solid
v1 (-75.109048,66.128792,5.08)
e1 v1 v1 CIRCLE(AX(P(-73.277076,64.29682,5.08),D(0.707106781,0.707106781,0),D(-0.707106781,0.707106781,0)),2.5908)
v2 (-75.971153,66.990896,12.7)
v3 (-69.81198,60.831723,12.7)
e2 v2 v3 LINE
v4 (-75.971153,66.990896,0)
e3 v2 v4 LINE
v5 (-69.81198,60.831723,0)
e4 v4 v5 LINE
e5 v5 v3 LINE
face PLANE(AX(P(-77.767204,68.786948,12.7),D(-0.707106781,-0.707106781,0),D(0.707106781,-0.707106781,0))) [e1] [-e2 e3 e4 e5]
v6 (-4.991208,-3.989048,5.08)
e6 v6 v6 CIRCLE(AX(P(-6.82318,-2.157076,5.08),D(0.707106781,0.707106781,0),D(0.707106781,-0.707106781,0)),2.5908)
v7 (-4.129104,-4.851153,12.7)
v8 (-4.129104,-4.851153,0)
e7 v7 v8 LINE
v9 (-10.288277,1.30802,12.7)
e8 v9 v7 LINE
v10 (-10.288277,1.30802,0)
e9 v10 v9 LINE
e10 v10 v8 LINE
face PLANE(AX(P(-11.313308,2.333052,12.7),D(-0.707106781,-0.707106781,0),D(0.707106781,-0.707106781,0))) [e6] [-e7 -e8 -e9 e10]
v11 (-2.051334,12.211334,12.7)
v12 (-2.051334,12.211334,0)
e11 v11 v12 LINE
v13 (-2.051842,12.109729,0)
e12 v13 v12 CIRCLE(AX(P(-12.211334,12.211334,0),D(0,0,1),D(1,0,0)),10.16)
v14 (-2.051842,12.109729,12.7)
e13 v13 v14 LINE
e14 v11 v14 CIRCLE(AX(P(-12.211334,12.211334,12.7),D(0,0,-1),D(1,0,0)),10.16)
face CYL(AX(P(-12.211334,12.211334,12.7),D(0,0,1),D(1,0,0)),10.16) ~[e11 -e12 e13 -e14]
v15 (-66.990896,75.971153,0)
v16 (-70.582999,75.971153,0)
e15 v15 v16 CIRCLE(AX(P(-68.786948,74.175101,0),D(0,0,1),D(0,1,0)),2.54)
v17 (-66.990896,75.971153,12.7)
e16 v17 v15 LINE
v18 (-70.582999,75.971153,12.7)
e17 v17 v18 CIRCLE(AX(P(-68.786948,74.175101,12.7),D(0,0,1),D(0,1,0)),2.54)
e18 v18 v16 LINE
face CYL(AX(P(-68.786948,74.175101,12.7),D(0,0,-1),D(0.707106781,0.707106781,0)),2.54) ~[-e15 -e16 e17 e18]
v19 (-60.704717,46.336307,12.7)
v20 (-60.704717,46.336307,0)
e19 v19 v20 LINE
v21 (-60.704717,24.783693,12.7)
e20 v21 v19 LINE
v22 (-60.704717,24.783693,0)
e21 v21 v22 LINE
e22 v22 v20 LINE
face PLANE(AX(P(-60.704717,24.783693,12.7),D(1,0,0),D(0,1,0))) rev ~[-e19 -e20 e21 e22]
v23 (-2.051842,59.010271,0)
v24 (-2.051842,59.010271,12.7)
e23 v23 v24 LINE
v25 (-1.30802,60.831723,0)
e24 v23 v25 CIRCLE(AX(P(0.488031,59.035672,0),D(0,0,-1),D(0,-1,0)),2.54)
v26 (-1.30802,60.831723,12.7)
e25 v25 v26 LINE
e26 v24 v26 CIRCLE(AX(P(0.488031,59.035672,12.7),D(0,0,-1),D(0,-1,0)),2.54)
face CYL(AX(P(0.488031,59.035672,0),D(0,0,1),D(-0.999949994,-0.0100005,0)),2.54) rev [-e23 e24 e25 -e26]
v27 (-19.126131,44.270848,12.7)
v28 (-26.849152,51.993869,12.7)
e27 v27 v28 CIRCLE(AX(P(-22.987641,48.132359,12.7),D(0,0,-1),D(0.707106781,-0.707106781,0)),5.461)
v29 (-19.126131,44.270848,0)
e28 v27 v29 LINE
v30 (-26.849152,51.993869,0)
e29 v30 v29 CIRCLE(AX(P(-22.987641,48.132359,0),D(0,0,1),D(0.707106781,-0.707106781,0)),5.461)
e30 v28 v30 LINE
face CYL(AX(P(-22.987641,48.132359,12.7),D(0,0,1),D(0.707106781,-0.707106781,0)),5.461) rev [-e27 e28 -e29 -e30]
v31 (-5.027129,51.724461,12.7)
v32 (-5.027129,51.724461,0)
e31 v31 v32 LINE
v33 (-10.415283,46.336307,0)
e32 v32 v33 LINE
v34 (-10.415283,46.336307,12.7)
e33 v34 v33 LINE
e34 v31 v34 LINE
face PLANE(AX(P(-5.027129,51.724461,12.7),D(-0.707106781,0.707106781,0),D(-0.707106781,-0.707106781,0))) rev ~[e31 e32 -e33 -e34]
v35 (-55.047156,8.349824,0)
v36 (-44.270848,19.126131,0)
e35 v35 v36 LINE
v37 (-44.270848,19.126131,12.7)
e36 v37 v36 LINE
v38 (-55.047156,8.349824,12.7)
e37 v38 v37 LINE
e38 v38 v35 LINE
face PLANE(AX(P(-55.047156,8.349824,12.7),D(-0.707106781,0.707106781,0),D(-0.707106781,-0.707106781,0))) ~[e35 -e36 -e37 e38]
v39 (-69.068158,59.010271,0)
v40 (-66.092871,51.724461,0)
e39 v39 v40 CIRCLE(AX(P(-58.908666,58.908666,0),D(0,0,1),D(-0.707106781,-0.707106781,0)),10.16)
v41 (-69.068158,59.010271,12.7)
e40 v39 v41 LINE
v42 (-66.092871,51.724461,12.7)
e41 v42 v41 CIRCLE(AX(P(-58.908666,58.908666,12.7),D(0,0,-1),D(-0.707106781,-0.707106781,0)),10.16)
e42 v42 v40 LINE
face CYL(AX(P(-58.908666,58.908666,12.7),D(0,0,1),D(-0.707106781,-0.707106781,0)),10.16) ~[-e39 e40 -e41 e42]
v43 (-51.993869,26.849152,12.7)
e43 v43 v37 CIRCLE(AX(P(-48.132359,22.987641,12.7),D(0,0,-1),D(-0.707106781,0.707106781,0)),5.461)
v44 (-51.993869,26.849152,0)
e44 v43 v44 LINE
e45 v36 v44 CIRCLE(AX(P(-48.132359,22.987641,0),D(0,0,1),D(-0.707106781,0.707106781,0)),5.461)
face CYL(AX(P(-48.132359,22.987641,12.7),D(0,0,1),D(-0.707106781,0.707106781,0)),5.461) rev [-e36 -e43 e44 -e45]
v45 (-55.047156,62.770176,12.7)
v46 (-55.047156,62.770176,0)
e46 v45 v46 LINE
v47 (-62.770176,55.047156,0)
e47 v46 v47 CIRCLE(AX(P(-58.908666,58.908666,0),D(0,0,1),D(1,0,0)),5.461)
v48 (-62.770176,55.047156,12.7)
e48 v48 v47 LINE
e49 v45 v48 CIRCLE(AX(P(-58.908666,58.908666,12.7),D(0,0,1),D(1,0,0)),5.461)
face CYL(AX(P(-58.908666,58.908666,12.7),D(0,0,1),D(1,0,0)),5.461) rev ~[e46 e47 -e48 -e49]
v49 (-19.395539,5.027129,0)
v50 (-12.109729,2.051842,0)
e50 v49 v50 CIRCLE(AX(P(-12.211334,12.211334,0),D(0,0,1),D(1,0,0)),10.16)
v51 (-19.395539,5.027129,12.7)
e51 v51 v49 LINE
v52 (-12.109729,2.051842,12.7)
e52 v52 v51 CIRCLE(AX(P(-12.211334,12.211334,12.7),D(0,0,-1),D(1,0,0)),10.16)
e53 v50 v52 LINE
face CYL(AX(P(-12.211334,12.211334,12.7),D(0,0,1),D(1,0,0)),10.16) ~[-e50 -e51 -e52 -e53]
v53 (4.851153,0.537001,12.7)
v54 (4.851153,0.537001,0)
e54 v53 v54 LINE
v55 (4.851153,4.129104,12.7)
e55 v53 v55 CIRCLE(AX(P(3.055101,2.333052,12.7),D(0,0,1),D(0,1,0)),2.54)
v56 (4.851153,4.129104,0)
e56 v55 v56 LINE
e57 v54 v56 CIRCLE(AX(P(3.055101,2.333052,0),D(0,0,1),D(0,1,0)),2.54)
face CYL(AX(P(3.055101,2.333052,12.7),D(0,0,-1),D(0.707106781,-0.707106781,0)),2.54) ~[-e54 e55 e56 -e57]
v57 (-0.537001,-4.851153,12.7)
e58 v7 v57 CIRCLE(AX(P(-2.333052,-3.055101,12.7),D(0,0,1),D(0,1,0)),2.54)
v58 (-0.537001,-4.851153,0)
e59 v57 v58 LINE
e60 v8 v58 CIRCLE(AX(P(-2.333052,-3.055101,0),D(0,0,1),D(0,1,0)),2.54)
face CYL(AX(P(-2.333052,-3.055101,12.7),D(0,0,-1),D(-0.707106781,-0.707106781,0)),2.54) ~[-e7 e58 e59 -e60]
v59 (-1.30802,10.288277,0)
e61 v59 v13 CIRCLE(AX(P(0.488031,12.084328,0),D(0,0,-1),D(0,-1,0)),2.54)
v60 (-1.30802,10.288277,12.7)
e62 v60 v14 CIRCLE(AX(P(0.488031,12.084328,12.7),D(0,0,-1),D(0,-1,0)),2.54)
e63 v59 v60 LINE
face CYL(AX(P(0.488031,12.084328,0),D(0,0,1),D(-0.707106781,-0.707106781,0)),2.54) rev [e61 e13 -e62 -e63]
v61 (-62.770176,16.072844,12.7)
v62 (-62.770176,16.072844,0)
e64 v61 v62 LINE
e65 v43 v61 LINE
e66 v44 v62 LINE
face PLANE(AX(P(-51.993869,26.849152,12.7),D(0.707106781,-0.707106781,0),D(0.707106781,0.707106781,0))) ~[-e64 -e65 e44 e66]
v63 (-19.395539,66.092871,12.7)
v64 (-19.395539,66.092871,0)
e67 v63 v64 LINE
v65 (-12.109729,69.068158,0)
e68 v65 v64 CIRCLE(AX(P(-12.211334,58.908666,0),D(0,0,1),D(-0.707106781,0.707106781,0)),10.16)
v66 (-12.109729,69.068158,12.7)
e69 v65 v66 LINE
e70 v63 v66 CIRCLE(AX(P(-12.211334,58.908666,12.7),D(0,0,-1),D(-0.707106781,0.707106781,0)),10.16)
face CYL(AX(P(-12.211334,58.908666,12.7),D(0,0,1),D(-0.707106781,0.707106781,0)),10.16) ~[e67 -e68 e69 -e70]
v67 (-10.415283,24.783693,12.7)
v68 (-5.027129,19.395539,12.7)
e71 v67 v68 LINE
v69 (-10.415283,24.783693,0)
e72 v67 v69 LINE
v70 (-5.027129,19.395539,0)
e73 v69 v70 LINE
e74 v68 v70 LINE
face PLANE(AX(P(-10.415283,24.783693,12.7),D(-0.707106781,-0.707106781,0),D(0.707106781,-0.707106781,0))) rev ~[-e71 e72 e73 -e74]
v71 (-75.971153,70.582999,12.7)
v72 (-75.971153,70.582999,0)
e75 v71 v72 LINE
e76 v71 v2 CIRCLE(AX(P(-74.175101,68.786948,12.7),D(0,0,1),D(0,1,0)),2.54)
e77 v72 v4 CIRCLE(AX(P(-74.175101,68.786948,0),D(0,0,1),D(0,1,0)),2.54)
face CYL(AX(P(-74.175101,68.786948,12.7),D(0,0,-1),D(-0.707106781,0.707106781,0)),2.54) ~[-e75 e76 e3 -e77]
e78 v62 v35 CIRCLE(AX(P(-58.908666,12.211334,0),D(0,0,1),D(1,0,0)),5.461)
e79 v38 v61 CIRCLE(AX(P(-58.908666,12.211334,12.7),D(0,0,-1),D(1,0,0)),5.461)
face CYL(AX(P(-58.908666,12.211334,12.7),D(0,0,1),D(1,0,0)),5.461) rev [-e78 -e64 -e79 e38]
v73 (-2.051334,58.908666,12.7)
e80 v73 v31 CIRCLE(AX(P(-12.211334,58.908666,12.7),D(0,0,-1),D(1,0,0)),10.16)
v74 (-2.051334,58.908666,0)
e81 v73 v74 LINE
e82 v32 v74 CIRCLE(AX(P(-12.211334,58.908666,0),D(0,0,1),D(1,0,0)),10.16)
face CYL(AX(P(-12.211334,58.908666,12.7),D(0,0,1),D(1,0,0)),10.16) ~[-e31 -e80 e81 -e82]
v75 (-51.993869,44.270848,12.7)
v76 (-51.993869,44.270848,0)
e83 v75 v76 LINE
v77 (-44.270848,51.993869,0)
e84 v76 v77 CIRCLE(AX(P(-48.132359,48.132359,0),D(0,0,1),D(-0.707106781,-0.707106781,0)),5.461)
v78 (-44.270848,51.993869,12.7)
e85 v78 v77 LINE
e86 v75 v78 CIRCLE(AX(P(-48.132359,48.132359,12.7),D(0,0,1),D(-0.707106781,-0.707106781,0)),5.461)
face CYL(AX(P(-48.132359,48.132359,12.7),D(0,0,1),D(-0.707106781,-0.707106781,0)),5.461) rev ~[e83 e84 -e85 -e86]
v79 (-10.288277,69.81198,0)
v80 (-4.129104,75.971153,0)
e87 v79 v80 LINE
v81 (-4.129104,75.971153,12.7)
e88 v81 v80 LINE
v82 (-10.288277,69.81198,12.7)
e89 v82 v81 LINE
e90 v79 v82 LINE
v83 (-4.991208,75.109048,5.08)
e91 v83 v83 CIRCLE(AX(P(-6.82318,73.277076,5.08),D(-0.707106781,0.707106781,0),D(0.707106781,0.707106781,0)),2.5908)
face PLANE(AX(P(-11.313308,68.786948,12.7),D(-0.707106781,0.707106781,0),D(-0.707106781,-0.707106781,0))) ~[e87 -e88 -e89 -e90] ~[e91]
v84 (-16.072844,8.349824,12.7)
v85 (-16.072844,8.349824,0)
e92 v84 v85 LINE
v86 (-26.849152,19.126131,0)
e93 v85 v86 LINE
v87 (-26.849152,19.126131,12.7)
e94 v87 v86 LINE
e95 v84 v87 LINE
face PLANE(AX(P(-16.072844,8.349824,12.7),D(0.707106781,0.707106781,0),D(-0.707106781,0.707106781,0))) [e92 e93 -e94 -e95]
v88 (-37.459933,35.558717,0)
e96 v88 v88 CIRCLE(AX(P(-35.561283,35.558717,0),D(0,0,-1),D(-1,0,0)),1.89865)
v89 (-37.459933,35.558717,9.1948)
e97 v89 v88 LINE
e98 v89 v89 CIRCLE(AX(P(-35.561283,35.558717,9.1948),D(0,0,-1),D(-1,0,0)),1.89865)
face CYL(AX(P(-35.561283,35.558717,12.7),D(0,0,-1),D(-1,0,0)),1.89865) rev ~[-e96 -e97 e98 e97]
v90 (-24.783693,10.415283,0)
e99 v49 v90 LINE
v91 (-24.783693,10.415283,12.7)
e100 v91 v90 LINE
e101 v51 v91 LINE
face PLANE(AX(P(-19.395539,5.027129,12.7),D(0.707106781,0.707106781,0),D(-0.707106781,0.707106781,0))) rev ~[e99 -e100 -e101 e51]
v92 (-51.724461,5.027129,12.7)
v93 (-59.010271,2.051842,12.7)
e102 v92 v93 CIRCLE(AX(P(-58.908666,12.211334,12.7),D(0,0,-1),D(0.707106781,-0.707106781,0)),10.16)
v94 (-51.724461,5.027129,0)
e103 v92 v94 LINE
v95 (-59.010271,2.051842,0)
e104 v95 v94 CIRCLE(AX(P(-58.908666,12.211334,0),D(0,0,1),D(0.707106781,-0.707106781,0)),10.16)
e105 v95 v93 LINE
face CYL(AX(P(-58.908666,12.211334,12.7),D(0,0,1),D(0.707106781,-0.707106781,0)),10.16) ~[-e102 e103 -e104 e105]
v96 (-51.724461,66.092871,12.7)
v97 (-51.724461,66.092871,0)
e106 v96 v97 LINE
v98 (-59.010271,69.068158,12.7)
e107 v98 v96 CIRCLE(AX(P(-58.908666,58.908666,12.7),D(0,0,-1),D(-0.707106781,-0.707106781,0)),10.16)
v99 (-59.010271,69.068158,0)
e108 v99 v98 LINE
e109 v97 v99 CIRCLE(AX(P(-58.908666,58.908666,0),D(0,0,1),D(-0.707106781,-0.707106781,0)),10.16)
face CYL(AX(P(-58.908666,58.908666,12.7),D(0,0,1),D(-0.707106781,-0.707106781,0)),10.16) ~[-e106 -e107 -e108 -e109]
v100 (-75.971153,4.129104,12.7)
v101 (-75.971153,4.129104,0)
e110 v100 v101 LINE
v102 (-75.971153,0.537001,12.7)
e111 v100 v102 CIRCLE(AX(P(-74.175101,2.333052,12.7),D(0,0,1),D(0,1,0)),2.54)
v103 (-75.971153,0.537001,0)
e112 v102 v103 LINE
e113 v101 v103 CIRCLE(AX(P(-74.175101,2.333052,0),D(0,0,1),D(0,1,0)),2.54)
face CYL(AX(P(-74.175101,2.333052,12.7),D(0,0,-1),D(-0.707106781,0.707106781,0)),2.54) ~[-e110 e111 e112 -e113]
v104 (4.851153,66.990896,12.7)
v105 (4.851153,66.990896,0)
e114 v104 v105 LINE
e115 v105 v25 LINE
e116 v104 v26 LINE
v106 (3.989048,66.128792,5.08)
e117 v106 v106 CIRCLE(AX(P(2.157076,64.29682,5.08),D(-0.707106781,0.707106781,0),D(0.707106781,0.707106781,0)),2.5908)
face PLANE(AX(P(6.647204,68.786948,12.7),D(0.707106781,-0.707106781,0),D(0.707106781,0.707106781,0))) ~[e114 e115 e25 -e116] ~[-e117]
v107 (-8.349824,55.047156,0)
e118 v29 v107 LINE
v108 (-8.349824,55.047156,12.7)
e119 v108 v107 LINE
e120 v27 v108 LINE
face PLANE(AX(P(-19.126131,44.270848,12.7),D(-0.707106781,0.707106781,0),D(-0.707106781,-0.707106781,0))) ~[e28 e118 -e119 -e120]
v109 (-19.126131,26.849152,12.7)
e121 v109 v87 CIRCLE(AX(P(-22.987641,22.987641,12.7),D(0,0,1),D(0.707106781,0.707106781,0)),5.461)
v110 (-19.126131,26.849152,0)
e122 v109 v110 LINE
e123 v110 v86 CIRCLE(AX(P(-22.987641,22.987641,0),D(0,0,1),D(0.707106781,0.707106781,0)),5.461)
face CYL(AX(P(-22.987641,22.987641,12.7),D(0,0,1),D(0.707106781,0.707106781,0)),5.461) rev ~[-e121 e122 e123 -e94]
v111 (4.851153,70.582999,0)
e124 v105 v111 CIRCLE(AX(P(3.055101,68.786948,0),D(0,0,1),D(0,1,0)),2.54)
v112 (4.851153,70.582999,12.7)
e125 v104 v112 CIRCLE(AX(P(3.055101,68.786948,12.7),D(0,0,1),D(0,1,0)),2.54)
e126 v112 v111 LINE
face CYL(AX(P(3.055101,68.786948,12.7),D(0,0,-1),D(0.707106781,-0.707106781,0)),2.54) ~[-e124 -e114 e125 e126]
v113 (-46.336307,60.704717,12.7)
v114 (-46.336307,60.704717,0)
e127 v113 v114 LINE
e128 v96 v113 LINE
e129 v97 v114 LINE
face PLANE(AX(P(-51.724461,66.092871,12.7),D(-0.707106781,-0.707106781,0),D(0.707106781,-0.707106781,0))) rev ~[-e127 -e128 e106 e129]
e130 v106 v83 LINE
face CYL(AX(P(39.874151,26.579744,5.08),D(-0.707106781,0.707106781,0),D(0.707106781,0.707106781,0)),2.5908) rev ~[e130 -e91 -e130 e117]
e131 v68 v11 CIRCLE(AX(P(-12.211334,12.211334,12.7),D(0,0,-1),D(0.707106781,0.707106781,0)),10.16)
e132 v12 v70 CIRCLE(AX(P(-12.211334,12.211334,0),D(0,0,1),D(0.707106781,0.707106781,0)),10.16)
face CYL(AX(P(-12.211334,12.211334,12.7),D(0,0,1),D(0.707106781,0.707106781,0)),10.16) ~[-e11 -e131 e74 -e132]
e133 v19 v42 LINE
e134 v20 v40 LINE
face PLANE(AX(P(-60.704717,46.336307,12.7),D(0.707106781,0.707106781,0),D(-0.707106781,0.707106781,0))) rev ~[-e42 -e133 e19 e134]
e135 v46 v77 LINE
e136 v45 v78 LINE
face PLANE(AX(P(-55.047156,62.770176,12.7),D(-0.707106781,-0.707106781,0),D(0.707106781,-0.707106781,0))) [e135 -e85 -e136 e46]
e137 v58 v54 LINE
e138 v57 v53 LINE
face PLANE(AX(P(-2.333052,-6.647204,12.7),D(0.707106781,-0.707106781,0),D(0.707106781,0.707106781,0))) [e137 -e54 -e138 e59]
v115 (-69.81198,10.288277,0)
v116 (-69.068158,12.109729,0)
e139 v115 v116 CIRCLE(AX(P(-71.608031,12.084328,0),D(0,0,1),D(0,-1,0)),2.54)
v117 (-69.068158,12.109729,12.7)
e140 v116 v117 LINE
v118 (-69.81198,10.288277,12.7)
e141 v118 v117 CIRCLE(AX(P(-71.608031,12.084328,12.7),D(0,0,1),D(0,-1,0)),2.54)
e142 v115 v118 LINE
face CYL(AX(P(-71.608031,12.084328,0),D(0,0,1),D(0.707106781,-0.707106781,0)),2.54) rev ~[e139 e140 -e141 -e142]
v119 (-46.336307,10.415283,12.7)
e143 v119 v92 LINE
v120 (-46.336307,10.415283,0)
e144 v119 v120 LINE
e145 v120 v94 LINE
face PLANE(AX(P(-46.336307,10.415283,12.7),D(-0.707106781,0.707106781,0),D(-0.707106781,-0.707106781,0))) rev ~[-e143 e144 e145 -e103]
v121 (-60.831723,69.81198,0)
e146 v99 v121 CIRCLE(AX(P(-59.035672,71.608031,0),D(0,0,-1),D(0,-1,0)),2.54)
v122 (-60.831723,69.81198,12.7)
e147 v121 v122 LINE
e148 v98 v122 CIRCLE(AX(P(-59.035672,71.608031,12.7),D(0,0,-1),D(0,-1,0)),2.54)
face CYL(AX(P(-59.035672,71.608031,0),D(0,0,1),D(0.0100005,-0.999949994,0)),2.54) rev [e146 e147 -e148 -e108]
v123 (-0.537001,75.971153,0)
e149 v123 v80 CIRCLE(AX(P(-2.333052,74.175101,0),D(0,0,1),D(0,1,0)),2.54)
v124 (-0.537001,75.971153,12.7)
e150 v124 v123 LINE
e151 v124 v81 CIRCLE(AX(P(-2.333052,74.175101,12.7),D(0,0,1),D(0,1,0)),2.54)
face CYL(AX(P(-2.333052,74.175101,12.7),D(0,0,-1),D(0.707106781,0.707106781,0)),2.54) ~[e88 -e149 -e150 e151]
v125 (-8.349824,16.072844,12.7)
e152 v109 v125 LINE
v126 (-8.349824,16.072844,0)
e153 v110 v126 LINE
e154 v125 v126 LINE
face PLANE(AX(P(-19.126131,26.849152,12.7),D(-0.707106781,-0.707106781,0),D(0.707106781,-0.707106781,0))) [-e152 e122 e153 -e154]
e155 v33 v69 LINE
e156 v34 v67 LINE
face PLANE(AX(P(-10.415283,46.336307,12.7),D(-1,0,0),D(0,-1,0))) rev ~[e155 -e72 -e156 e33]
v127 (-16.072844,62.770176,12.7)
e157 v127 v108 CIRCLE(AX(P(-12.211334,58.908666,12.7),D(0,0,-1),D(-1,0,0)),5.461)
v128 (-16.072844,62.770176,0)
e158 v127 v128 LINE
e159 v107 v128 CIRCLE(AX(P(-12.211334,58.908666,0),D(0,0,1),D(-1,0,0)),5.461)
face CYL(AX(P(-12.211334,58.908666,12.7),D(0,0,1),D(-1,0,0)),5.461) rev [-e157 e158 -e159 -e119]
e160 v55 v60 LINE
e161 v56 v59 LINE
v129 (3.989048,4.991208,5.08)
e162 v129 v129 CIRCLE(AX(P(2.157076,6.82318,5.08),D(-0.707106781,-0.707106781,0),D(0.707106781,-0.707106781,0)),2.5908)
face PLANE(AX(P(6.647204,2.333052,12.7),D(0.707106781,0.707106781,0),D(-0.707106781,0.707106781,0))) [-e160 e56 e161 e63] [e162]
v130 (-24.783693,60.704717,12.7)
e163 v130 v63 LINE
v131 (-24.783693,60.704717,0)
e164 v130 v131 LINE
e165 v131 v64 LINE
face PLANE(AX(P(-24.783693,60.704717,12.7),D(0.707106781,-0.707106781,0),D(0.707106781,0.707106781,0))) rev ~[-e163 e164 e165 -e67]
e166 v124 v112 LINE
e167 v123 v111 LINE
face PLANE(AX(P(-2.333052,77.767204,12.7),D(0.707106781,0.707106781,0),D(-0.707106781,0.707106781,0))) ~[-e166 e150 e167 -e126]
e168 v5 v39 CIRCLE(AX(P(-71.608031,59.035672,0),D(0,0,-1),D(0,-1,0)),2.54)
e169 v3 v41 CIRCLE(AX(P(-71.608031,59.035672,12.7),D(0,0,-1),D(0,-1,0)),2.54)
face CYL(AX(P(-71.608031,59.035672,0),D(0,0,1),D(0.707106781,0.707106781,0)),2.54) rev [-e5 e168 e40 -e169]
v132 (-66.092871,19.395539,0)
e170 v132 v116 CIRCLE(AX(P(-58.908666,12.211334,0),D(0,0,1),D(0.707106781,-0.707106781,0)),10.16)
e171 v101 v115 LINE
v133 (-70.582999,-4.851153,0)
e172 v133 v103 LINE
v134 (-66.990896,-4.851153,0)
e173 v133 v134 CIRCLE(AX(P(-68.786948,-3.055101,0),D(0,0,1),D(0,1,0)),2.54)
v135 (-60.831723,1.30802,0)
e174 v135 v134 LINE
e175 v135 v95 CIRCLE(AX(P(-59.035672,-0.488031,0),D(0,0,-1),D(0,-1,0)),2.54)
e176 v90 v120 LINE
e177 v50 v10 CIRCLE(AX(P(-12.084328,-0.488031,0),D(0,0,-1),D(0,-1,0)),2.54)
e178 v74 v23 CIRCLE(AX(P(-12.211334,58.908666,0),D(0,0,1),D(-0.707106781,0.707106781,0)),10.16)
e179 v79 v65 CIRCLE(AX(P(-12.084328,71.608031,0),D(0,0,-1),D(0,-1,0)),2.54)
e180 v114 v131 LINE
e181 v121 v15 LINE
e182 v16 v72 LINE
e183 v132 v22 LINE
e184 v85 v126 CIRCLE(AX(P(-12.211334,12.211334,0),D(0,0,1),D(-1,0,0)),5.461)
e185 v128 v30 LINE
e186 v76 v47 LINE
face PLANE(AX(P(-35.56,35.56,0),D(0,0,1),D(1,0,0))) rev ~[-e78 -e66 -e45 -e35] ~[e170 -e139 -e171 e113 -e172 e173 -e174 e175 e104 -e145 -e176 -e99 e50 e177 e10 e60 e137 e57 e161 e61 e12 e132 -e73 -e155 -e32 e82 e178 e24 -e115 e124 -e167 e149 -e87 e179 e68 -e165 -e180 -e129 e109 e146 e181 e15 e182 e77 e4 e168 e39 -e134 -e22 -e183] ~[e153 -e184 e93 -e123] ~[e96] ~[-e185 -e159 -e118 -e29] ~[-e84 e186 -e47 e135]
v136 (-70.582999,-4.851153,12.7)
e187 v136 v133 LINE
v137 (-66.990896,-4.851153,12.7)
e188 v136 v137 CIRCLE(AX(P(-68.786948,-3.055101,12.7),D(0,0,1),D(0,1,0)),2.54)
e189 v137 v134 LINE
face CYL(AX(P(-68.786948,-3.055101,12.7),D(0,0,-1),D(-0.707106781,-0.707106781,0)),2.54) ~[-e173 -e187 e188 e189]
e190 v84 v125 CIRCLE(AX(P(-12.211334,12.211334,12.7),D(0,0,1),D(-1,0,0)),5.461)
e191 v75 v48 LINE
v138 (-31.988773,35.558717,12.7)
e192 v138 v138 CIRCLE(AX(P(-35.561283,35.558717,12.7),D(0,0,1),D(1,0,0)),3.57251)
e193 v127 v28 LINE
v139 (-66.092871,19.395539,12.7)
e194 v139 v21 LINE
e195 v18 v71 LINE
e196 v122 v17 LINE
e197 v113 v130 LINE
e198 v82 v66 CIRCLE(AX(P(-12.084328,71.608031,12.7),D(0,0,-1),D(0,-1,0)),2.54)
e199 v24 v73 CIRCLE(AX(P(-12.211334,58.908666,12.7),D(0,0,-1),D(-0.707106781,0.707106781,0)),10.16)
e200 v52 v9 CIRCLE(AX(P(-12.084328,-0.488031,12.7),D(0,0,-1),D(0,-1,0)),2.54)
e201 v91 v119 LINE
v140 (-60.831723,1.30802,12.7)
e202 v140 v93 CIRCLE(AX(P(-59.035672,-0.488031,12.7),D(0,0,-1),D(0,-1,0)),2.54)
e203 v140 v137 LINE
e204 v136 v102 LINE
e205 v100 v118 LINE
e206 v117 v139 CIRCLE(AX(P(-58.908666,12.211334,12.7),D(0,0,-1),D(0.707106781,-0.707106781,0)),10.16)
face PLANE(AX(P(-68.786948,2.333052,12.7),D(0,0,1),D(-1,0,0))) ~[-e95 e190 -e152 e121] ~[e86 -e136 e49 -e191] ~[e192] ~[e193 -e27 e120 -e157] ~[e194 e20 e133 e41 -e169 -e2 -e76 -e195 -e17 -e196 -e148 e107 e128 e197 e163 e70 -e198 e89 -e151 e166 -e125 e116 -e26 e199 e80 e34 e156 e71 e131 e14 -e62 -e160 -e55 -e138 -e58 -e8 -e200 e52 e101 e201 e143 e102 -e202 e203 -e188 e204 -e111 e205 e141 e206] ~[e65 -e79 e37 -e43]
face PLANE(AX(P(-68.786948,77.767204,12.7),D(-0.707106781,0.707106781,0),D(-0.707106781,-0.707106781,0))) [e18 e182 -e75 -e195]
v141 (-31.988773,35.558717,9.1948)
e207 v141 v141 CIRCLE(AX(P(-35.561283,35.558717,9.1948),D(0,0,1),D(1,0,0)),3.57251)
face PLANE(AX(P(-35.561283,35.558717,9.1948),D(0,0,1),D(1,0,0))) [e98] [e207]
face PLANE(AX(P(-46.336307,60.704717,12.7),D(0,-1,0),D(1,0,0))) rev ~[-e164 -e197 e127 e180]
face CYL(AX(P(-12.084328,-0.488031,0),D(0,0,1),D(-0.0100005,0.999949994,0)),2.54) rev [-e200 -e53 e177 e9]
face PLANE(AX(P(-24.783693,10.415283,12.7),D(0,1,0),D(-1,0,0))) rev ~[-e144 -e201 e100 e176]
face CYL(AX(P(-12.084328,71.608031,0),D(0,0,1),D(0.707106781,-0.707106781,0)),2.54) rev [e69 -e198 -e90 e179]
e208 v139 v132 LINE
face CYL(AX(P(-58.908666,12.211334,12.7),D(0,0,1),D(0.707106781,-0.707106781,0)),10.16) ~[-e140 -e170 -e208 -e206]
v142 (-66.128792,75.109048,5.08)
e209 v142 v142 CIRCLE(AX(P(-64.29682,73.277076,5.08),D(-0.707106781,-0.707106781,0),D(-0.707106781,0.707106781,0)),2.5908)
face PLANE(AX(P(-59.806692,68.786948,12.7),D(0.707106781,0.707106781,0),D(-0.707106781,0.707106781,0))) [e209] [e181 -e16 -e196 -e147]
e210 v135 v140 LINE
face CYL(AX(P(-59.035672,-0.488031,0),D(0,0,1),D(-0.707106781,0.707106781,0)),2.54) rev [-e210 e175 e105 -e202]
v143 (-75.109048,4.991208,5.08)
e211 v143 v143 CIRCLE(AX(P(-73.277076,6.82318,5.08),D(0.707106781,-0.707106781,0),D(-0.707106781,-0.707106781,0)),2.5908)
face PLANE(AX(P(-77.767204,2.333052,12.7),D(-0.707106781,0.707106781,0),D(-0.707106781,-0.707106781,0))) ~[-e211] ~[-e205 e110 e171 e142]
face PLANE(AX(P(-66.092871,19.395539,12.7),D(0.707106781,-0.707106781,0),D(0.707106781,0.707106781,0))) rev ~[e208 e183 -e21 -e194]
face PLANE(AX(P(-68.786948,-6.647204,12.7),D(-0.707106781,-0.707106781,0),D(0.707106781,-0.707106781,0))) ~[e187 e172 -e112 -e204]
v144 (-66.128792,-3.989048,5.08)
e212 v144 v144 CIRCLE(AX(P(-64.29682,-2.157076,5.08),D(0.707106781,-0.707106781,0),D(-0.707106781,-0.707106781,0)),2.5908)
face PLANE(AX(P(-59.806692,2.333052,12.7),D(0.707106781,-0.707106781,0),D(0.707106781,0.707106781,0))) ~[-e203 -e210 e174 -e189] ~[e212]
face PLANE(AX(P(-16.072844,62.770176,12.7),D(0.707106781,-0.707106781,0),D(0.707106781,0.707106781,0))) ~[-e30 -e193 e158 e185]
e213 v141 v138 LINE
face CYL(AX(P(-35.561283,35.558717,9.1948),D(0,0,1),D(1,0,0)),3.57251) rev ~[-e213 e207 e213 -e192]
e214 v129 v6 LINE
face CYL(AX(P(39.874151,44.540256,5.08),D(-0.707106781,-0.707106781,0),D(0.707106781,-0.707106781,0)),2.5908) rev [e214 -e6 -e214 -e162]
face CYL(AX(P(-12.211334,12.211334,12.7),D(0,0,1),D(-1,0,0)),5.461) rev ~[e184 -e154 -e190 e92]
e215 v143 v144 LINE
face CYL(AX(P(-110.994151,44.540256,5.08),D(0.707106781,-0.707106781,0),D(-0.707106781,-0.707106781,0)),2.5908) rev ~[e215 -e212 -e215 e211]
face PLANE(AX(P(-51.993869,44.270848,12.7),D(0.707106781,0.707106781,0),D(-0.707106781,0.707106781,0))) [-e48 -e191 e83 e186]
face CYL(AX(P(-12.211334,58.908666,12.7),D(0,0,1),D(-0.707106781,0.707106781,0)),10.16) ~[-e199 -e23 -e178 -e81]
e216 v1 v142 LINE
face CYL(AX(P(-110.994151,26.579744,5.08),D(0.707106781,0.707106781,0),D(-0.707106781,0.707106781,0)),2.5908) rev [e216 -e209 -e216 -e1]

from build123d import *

# Parameters (mm, degrees)
SKETCH1_W                                      = 71.12
SKETCH1_H                                      = 71.12
EXTRUDE1_DEPTH                                 = 12.7
SKETCH3_R                                      = 2.921
CUT_EXTRUDE1_DEPTH                             = 102.377506381
MIRROR3_COPY_1_SKETCH_R                        = 2.921
MIRROR3_COPY_1_DEPTH                           = 102.377506381
MIRROR3_COPY_2_SKETCH_R                        = 2.921
MIRROR3_COPY_2_DEPTH                           = 102.377506381
SKETCH6_R                                      = 5.461
CUT_EXTRUDE3_DEPTH                             = 102.377506381
MIRROR6_COPY_1_SKETCH_R                        = 5.461
MIRROR6_COPY_1_DEPTH                           = 102.377506381
MIRROR6_COPY_2_SKETCH_R                        = 5.461
MIRROR6_COPY_2_DEPTH                           = 102.377506381
SKETCH7_W                                      = 71.12
SKETCH7_H                                      = 71.12
CUT_EXTRUDE5_DEPTH                             = 102.377506381
EXTRUDE2_DEPTH                                 = 12.7
CBORE_FOR_6_SOCKET_HEAD_CAP_SCREW1_D           = 3.7973
CBORE_FOR_6_SOCKET_HEAD_CAP_SCREW1_CBORE_D     = 7.14502
CBORE_FOR_6_SOCKET_HEAD_CAP_SCREW1_CBORE_DEPTH = 3.5052
MIRROR9_COPY_1_DEPTH                           = 12.7
FILLET3_R                                      = 2.54


with BuildPart() as part:
    # Sketch1 → Extrude1 (new body)
    with BuildSketch(Plane.XY):
        with Locations((-35.56, 35.56)):
            Rectangle(SKETCH1_W, SKETCH1_H)
    extrude(amount=EXTRUDE1_DEPTH)

    # Sketch3 → Cut-Extrude1 (cut, through all)
    with BuildSketch(Plane.XY.offset(12.7)):
        with Locations((-58.908665915, 58.908665915)):
            Circle(SKETCH3_R)
        with Locations((-48.132358569, 48.132358569)):
            Circle(SKETCH3_R)
        Polygon((-58.908665915, 58.908665915), (-56.843207007, 60.974124823), (-46.066899662, 50.197817477), (-50.197817477, 46.066899662), (-60.974124823, 56.843207007), align=None)
    cut_extrude1 = extrude(amount=-CUT_EXTRUDE1_DEPTH, mode=Mode.SUBTRACT)

    # Mirror1: Cut-Extrude1 across plane
    add(cut_extrude1.mirror(Plane.ZX.offset(35.56)), mode=Mode.SUBTRACT)

    # Mirror2: Cut-Extrude1 across plane
    add(cut_extrude1.mirror(Plane(origin=(-35.56, 0, 0), x_dir=(0, 0, 1), z_dir=(1, 0, 0))), mode=Mode.SUBTRACT)

    # Mirror3 copy 1 sketch → Mirror3 copy 1 (cut, through all)
    with BuildSketch(Plane(origin=(-71.12, 71.12, 12.7), x_dir=(-1, 0, 0), z_dir=(0, 0, 1))):
        with Locations((-58.908665915, 58.908665915)):
            Circle(MIRROR3_COPY_1_SKETCH_R)
        with Locations((-48.132358569, 48.132358569)):
            Circle(MIRROR3_COPY_1_SKETCH_R)
        Polygon((-58.908665915, 58.908665915), (-56.843207007, 60.974124823), (-46.066899662, 50.197817477), (-50.197817477, 46.066899662), (-60.974124823, 56.843207007), align=None)
    extrude(amount=-MIRROR3_COPY_1_DEPTH, mode=Mode.SUBTRACT)

    # Mirror3 copy 2 sketch → Mirror3 copy 2 (cut, through all)
    with BuildSketch(Plane(origin=(0, 71.12, 12.7), x_dir=(1, 0, 0), z_dir=(0, 0, 1))):
        with Locations((-58.908665915, -58.908665915)):
            Circle(MIRROR3_COPY_2_SKETCH_R)
        with Locations((-48.132358569, -48.132358569)):
            Circle(MIRROR3_COPY_2_SKETCH_R)
        Polygon((-58.908665915, -58.908665915), (-56.843207007, -60.974124823), (-46.066899662, -50.197817477), (-50.197817477, -46.066899662), (-60.974124823, -56.843207007), align=None)
    extrude(amount=-MIRROR3_COPY_2_DEPTH, mode=Mode.SUBTRACT)

    # Sketch6 → Cut-Extrude3 (cut, through all)
    with BuildSketch(Plane.XY.offset(12.7)):
        with Locations((-58.908665915, 58.908665915)):
            Circle(SKETCH6_R)
        with Locations((-48.132358569, 48.132358569)):
            Circle(SKETCH6_R)
        Polygon((-58.908665915, 58.908665915), (-55.047155783, 62.770176047), (-44.270848437, 51.993868702), (-48.132358569, 48.132358569), (-51.993868702, 44.270848437), (-62.770176047, 55.047155783), align=None)
    cut_extrude3 = extrude(amount=-CUT_EXTRUDE3_DEPTH, mode=Mode.SUBTRACT)

    # Mirror4: Cut-Extrude3 across plane
    add(cut_extrude3.mirror(Plane(origin=(-35.56, 0, 0), x_dir=(0, 0, 1), z_dir=(1, 0, 0))), mode=Mode.SUBTRACT)

    # Mirror5: Cut-Extrude3 across plane
    add(cut_extrude3.mirror(Plane.ZX.offset(35.56)), mode=Mode.SUBTRACT)

    # Mirror6 copy 1 sketch → Mirror6 copy 1 (cut, through all)
    with BuildSketch(Plane(origin=(-71.12, 71.12, 12.7), x_dir=(-1, 0, 0), z_dir=(0, 0, 1))):
        with Locations((-58.908665915, 58.908665915)):
            Circle(MIRROR6_COPY_1_SKETCH_R)
        with Locations((-48.132358569, 48.132358569)):
            Circle(MIRROR6_COPY_1_SKETCH_R)
        Polygon((-58.908665915, 58.908665915), (-55.047155783, 62.770176047), (-44.270848437, 51.993868702), (-48.132358569, 48.132358569), (-51.993868702, 44.270848437), (-62.770176047, 55.047155783), align=None)
    extrude(amount=-MIRROR6_COPY_1_DEPTH, mode=Mode.SUBTRACT)

    # Mirror6 copy 2 sketch → Mirror6 copy 2 (cut, through all)
    with BuildSketch(Plane(origin=(-71.12, 0, 12.7), x_dir=(-1, 0, 0), z_dir=(0, 0, 1))):
        with Locations((-58.908665915, -58.908665915)):
            Circle(MIRROR6_COPY_2_SKETCH_R)
        with Locations((-48.132358569, -48.132358569)):
            Circle(MIRROR6_COPY_2_SKETCH_R)
        Polygon((-58.908665915, -58.908665915), (-55.047155783, -62.770176047), (-44.270848437, -51.993868702), (-48.132358569, -48.132358569), (-51.993868702, -44.270848437), (-62.770176047, -55.047155783), align=None)
    extrude(amount=-MIRROR6_COPY_2_DEPTH, mode=Mode.SUBTRACT)

    # Sketch7 → Cut-Extrude5 (cut, through all)
    with BuildSketch(Plane.XY.offset(12.7)):
        with Locations((-35.56, 35.56)):
            Rectangle(SKETCH7_W, SKETCH7_H)
        with BuildLine():
            Line((-10.415282861, 24.783692655), (-5.027129188, 19.395538982))
            ThreePointArc((-5.027129188, 19.395538982), (-2.824718035, 16.099397758), (-2.051334085, 12.211334085))
            ThreePointArc((-2.051334085, 12.211334085), (-8.323270412, 2.824718035), (-19.395538982, 5.027129188))
            Line((-19.395538982, 5.027129188), (-24.783692655, 10.415282861))
            Line((-24.783692655, 10.415282861), (-46.336307345, 10.415282861))
            Line((-46.336307345, 10.415282861), (-51.724461018, 5.027129188))
            ThreePointArc((-51.724461018, 5.027129188), (-66.092870812, 5.027129188), (-66.092870812, 19.395538982))
            Line((-66.092870812, 19.395538982), (-60.704717139, 24.783692655))
            Line((-60.704717139, 24.783692655), (-60.704717139, 46.336307345))
            Line((-60.704717139, 46.336307345), (-66.092870812, 51.724461018))
            ThreePointArc((-66.092870812, 51.724461018), (-66.092870812, 66.092870812), (-51.724461018, 66.092870812))
            Line((-51.724461018, 66.092870812), (-46.336307345, 60.704717139))
            Line((-46.336307345, 60.704717139), (-24.783692655, 60.704717139))
            Line((-24.783692655, 60.704717139), (-19.395538982, 66.092870812))
            ThreePointArc((-19.395538982, 66.092870812), (-8.323270412, 68.295281965), (-2.051334085, 58.908665915))
            ThreePointArc((-2.051334085, 58.908665915), (-2.824718035, 55.020602242), (-5.027129188, 51.724461018))
            Line((-5.027129188, 51.724461018), (-10.415282861, 46.336307345))
            Line((-10.415282861, 46.336307345), (-10.415282861, 24.783692655))
        make_face(mode=Mode.SUBTRACT)
    extrude(amount=-CUT_EXTRUDE5_DEPTH, mode=Mode.SUBTRACT)

    # Sketch10 → Extrude2 (add)
    with BuildSketch(Plane.XY.offset(12.7)):
        Polygon((-68.786947648, 59.806691527), (-59.806691527, 68.786947648), (-68.786947648, 77.767203769), (-77.767203769, 68.786947648), align=None)
    extrude2 = extrude(amount=-EXTRUDE2_DEPTH)

    # CBORE for #6 Socket Head Cap Screw1 (through all)
    with Locations(Plane(origin=(-35.561282861, 35.558717139, 12.7), x_dir=(1, 0, 0), z_dir=(0, 0, 1))):
        with Locations((0, 0)):
            CounterBoreHole(CBORE_FOR_6_SOCKET_HEAD_CAP_SCREW1_D / 2, CBORE_FOR_6_SOCKET_HEAD_CAP_SCREW1_CBORE_D / 2, CBORE_FOR_6_SOCKET_HEAD_CAP_SCREW1_CBORE_DEPTH)

    # Sketch15 → #6 (0.204) Diameter Hole1 (revolve, cut)
    with BuildSketch(Plane(origin=(-64.296819587, 73.277075708, 5.08), x_dir=(-0.7071067811865476, 0.7071067811865476, 0), z_dir=(0, 0, 1))):
        Polygon((0, 0), (0, 67.596709692), (2.5908, 66.04), (2.5908, 0), align=None)
    f_6_0_204_diameter_hole1 = revolve(axis=Axis((-59.806691527, 77.767203769, 5.08), (-0.7071067811865476, -0.7071067811865476, 0)), mode=Mode.SUBTRACT)

    # Mirror8: Extrude2, #6 (0.204) Diameter Hole1 across plane
    add(extrude2.mirror(Plane.ZX.offset(35.56)))
    add(f_6_0_204_diameter_hole1.mirror(Plane.ZX.offset(35.56)), mode=Mode.SUBTRACT)

    # Mirror9: Extrude2, #6 (0.204) Diameter Hole1 across plane
    add(extrude2.mirror(Plane(origin=(-35.56, 0, 0), x_dir=(0, 0, 1), z_dir=(1, 0, 0))))
    add(f_6_0_204_diameter_hole1.mirror(Plane(origin=(-35.56, 0, 0), x_dir=(0, 0, 1), z_dir=(1, 0, 0))), mode=Mode.SUBTRACT)

    # Mirror9 copy 1 sketch → Mirror9 copy 1 (add)
    with BuildSketch(Plane(origin=(-71.12, 71.12, 12.7), x_dir=(-1, 0, 0), z_dir=(0, 0, 1))):
        Polygon((-68.786947648, 59.806691527), (-59.806691527, 68.786947648), (-68.786947648, 77.767203769), (-77.767203769, 68.786947648), align=None)
    extrude(amount=-MIRROR9_COPY_1_DEPTH)

    # Mirror9 copy 2 sketch → Mirror9 copy 2 (revolve, cut)
    with BuildSketch(Plane(origin=(-6.823180413, -2.157075708, 5.08), x_dir=(0.7071067811865476, -0.7071067811865476, 0), z_dir=(0, 0, 1))):
        Polygon((0, 0), (0, 67.596709692), (2.5908, 66.04), (2.5908, 0), align=None)
    revolve(axis=Axis((-11.313308473, -6.647203769, 5.08), (0.7071067811865476, 0.7071067811865476, 0)), mode=Mode.SUBTRACT)

    # Fillet3
    fillet3_edges = [part.edges().sort_by_distance(p)[0] for p in [
        (-2.113037875, 11.093293996, 6.35),
        (-11.093293996, 2.113037875, 6.35),
        (-60.026706004, 2.113037875, 6.35),
        (-69.006962125, 11.093293996, 6.35),
        (-69.006962125, 60.026706004, 6.35),
        (-60.026706004, 69.006962125, 6.35),
        (-11.093293996, 69.006962125, 6.35),
        (-2.113037875, 60.026706004, 6.35),
        (6.647203769, 2.333052352, 6.35),
        (-2.333052352, -6.647203769, 6.35),
        (-68.786947648, -6.647203769, 6.35),
        (-77.767203769, 2.333052352, 6.35),
        (-77.767203769, 68.786947648, 6.35),
        (-68.786947648, 77.767203769, 6.35),
        (-2.333052352, 77.767203769, 6.35),
        (6.647203769, 68.786947648, 6.35),
    ]]
    fillet(fillet3_edges, radius=FILLET3_R)


solid = part.part
